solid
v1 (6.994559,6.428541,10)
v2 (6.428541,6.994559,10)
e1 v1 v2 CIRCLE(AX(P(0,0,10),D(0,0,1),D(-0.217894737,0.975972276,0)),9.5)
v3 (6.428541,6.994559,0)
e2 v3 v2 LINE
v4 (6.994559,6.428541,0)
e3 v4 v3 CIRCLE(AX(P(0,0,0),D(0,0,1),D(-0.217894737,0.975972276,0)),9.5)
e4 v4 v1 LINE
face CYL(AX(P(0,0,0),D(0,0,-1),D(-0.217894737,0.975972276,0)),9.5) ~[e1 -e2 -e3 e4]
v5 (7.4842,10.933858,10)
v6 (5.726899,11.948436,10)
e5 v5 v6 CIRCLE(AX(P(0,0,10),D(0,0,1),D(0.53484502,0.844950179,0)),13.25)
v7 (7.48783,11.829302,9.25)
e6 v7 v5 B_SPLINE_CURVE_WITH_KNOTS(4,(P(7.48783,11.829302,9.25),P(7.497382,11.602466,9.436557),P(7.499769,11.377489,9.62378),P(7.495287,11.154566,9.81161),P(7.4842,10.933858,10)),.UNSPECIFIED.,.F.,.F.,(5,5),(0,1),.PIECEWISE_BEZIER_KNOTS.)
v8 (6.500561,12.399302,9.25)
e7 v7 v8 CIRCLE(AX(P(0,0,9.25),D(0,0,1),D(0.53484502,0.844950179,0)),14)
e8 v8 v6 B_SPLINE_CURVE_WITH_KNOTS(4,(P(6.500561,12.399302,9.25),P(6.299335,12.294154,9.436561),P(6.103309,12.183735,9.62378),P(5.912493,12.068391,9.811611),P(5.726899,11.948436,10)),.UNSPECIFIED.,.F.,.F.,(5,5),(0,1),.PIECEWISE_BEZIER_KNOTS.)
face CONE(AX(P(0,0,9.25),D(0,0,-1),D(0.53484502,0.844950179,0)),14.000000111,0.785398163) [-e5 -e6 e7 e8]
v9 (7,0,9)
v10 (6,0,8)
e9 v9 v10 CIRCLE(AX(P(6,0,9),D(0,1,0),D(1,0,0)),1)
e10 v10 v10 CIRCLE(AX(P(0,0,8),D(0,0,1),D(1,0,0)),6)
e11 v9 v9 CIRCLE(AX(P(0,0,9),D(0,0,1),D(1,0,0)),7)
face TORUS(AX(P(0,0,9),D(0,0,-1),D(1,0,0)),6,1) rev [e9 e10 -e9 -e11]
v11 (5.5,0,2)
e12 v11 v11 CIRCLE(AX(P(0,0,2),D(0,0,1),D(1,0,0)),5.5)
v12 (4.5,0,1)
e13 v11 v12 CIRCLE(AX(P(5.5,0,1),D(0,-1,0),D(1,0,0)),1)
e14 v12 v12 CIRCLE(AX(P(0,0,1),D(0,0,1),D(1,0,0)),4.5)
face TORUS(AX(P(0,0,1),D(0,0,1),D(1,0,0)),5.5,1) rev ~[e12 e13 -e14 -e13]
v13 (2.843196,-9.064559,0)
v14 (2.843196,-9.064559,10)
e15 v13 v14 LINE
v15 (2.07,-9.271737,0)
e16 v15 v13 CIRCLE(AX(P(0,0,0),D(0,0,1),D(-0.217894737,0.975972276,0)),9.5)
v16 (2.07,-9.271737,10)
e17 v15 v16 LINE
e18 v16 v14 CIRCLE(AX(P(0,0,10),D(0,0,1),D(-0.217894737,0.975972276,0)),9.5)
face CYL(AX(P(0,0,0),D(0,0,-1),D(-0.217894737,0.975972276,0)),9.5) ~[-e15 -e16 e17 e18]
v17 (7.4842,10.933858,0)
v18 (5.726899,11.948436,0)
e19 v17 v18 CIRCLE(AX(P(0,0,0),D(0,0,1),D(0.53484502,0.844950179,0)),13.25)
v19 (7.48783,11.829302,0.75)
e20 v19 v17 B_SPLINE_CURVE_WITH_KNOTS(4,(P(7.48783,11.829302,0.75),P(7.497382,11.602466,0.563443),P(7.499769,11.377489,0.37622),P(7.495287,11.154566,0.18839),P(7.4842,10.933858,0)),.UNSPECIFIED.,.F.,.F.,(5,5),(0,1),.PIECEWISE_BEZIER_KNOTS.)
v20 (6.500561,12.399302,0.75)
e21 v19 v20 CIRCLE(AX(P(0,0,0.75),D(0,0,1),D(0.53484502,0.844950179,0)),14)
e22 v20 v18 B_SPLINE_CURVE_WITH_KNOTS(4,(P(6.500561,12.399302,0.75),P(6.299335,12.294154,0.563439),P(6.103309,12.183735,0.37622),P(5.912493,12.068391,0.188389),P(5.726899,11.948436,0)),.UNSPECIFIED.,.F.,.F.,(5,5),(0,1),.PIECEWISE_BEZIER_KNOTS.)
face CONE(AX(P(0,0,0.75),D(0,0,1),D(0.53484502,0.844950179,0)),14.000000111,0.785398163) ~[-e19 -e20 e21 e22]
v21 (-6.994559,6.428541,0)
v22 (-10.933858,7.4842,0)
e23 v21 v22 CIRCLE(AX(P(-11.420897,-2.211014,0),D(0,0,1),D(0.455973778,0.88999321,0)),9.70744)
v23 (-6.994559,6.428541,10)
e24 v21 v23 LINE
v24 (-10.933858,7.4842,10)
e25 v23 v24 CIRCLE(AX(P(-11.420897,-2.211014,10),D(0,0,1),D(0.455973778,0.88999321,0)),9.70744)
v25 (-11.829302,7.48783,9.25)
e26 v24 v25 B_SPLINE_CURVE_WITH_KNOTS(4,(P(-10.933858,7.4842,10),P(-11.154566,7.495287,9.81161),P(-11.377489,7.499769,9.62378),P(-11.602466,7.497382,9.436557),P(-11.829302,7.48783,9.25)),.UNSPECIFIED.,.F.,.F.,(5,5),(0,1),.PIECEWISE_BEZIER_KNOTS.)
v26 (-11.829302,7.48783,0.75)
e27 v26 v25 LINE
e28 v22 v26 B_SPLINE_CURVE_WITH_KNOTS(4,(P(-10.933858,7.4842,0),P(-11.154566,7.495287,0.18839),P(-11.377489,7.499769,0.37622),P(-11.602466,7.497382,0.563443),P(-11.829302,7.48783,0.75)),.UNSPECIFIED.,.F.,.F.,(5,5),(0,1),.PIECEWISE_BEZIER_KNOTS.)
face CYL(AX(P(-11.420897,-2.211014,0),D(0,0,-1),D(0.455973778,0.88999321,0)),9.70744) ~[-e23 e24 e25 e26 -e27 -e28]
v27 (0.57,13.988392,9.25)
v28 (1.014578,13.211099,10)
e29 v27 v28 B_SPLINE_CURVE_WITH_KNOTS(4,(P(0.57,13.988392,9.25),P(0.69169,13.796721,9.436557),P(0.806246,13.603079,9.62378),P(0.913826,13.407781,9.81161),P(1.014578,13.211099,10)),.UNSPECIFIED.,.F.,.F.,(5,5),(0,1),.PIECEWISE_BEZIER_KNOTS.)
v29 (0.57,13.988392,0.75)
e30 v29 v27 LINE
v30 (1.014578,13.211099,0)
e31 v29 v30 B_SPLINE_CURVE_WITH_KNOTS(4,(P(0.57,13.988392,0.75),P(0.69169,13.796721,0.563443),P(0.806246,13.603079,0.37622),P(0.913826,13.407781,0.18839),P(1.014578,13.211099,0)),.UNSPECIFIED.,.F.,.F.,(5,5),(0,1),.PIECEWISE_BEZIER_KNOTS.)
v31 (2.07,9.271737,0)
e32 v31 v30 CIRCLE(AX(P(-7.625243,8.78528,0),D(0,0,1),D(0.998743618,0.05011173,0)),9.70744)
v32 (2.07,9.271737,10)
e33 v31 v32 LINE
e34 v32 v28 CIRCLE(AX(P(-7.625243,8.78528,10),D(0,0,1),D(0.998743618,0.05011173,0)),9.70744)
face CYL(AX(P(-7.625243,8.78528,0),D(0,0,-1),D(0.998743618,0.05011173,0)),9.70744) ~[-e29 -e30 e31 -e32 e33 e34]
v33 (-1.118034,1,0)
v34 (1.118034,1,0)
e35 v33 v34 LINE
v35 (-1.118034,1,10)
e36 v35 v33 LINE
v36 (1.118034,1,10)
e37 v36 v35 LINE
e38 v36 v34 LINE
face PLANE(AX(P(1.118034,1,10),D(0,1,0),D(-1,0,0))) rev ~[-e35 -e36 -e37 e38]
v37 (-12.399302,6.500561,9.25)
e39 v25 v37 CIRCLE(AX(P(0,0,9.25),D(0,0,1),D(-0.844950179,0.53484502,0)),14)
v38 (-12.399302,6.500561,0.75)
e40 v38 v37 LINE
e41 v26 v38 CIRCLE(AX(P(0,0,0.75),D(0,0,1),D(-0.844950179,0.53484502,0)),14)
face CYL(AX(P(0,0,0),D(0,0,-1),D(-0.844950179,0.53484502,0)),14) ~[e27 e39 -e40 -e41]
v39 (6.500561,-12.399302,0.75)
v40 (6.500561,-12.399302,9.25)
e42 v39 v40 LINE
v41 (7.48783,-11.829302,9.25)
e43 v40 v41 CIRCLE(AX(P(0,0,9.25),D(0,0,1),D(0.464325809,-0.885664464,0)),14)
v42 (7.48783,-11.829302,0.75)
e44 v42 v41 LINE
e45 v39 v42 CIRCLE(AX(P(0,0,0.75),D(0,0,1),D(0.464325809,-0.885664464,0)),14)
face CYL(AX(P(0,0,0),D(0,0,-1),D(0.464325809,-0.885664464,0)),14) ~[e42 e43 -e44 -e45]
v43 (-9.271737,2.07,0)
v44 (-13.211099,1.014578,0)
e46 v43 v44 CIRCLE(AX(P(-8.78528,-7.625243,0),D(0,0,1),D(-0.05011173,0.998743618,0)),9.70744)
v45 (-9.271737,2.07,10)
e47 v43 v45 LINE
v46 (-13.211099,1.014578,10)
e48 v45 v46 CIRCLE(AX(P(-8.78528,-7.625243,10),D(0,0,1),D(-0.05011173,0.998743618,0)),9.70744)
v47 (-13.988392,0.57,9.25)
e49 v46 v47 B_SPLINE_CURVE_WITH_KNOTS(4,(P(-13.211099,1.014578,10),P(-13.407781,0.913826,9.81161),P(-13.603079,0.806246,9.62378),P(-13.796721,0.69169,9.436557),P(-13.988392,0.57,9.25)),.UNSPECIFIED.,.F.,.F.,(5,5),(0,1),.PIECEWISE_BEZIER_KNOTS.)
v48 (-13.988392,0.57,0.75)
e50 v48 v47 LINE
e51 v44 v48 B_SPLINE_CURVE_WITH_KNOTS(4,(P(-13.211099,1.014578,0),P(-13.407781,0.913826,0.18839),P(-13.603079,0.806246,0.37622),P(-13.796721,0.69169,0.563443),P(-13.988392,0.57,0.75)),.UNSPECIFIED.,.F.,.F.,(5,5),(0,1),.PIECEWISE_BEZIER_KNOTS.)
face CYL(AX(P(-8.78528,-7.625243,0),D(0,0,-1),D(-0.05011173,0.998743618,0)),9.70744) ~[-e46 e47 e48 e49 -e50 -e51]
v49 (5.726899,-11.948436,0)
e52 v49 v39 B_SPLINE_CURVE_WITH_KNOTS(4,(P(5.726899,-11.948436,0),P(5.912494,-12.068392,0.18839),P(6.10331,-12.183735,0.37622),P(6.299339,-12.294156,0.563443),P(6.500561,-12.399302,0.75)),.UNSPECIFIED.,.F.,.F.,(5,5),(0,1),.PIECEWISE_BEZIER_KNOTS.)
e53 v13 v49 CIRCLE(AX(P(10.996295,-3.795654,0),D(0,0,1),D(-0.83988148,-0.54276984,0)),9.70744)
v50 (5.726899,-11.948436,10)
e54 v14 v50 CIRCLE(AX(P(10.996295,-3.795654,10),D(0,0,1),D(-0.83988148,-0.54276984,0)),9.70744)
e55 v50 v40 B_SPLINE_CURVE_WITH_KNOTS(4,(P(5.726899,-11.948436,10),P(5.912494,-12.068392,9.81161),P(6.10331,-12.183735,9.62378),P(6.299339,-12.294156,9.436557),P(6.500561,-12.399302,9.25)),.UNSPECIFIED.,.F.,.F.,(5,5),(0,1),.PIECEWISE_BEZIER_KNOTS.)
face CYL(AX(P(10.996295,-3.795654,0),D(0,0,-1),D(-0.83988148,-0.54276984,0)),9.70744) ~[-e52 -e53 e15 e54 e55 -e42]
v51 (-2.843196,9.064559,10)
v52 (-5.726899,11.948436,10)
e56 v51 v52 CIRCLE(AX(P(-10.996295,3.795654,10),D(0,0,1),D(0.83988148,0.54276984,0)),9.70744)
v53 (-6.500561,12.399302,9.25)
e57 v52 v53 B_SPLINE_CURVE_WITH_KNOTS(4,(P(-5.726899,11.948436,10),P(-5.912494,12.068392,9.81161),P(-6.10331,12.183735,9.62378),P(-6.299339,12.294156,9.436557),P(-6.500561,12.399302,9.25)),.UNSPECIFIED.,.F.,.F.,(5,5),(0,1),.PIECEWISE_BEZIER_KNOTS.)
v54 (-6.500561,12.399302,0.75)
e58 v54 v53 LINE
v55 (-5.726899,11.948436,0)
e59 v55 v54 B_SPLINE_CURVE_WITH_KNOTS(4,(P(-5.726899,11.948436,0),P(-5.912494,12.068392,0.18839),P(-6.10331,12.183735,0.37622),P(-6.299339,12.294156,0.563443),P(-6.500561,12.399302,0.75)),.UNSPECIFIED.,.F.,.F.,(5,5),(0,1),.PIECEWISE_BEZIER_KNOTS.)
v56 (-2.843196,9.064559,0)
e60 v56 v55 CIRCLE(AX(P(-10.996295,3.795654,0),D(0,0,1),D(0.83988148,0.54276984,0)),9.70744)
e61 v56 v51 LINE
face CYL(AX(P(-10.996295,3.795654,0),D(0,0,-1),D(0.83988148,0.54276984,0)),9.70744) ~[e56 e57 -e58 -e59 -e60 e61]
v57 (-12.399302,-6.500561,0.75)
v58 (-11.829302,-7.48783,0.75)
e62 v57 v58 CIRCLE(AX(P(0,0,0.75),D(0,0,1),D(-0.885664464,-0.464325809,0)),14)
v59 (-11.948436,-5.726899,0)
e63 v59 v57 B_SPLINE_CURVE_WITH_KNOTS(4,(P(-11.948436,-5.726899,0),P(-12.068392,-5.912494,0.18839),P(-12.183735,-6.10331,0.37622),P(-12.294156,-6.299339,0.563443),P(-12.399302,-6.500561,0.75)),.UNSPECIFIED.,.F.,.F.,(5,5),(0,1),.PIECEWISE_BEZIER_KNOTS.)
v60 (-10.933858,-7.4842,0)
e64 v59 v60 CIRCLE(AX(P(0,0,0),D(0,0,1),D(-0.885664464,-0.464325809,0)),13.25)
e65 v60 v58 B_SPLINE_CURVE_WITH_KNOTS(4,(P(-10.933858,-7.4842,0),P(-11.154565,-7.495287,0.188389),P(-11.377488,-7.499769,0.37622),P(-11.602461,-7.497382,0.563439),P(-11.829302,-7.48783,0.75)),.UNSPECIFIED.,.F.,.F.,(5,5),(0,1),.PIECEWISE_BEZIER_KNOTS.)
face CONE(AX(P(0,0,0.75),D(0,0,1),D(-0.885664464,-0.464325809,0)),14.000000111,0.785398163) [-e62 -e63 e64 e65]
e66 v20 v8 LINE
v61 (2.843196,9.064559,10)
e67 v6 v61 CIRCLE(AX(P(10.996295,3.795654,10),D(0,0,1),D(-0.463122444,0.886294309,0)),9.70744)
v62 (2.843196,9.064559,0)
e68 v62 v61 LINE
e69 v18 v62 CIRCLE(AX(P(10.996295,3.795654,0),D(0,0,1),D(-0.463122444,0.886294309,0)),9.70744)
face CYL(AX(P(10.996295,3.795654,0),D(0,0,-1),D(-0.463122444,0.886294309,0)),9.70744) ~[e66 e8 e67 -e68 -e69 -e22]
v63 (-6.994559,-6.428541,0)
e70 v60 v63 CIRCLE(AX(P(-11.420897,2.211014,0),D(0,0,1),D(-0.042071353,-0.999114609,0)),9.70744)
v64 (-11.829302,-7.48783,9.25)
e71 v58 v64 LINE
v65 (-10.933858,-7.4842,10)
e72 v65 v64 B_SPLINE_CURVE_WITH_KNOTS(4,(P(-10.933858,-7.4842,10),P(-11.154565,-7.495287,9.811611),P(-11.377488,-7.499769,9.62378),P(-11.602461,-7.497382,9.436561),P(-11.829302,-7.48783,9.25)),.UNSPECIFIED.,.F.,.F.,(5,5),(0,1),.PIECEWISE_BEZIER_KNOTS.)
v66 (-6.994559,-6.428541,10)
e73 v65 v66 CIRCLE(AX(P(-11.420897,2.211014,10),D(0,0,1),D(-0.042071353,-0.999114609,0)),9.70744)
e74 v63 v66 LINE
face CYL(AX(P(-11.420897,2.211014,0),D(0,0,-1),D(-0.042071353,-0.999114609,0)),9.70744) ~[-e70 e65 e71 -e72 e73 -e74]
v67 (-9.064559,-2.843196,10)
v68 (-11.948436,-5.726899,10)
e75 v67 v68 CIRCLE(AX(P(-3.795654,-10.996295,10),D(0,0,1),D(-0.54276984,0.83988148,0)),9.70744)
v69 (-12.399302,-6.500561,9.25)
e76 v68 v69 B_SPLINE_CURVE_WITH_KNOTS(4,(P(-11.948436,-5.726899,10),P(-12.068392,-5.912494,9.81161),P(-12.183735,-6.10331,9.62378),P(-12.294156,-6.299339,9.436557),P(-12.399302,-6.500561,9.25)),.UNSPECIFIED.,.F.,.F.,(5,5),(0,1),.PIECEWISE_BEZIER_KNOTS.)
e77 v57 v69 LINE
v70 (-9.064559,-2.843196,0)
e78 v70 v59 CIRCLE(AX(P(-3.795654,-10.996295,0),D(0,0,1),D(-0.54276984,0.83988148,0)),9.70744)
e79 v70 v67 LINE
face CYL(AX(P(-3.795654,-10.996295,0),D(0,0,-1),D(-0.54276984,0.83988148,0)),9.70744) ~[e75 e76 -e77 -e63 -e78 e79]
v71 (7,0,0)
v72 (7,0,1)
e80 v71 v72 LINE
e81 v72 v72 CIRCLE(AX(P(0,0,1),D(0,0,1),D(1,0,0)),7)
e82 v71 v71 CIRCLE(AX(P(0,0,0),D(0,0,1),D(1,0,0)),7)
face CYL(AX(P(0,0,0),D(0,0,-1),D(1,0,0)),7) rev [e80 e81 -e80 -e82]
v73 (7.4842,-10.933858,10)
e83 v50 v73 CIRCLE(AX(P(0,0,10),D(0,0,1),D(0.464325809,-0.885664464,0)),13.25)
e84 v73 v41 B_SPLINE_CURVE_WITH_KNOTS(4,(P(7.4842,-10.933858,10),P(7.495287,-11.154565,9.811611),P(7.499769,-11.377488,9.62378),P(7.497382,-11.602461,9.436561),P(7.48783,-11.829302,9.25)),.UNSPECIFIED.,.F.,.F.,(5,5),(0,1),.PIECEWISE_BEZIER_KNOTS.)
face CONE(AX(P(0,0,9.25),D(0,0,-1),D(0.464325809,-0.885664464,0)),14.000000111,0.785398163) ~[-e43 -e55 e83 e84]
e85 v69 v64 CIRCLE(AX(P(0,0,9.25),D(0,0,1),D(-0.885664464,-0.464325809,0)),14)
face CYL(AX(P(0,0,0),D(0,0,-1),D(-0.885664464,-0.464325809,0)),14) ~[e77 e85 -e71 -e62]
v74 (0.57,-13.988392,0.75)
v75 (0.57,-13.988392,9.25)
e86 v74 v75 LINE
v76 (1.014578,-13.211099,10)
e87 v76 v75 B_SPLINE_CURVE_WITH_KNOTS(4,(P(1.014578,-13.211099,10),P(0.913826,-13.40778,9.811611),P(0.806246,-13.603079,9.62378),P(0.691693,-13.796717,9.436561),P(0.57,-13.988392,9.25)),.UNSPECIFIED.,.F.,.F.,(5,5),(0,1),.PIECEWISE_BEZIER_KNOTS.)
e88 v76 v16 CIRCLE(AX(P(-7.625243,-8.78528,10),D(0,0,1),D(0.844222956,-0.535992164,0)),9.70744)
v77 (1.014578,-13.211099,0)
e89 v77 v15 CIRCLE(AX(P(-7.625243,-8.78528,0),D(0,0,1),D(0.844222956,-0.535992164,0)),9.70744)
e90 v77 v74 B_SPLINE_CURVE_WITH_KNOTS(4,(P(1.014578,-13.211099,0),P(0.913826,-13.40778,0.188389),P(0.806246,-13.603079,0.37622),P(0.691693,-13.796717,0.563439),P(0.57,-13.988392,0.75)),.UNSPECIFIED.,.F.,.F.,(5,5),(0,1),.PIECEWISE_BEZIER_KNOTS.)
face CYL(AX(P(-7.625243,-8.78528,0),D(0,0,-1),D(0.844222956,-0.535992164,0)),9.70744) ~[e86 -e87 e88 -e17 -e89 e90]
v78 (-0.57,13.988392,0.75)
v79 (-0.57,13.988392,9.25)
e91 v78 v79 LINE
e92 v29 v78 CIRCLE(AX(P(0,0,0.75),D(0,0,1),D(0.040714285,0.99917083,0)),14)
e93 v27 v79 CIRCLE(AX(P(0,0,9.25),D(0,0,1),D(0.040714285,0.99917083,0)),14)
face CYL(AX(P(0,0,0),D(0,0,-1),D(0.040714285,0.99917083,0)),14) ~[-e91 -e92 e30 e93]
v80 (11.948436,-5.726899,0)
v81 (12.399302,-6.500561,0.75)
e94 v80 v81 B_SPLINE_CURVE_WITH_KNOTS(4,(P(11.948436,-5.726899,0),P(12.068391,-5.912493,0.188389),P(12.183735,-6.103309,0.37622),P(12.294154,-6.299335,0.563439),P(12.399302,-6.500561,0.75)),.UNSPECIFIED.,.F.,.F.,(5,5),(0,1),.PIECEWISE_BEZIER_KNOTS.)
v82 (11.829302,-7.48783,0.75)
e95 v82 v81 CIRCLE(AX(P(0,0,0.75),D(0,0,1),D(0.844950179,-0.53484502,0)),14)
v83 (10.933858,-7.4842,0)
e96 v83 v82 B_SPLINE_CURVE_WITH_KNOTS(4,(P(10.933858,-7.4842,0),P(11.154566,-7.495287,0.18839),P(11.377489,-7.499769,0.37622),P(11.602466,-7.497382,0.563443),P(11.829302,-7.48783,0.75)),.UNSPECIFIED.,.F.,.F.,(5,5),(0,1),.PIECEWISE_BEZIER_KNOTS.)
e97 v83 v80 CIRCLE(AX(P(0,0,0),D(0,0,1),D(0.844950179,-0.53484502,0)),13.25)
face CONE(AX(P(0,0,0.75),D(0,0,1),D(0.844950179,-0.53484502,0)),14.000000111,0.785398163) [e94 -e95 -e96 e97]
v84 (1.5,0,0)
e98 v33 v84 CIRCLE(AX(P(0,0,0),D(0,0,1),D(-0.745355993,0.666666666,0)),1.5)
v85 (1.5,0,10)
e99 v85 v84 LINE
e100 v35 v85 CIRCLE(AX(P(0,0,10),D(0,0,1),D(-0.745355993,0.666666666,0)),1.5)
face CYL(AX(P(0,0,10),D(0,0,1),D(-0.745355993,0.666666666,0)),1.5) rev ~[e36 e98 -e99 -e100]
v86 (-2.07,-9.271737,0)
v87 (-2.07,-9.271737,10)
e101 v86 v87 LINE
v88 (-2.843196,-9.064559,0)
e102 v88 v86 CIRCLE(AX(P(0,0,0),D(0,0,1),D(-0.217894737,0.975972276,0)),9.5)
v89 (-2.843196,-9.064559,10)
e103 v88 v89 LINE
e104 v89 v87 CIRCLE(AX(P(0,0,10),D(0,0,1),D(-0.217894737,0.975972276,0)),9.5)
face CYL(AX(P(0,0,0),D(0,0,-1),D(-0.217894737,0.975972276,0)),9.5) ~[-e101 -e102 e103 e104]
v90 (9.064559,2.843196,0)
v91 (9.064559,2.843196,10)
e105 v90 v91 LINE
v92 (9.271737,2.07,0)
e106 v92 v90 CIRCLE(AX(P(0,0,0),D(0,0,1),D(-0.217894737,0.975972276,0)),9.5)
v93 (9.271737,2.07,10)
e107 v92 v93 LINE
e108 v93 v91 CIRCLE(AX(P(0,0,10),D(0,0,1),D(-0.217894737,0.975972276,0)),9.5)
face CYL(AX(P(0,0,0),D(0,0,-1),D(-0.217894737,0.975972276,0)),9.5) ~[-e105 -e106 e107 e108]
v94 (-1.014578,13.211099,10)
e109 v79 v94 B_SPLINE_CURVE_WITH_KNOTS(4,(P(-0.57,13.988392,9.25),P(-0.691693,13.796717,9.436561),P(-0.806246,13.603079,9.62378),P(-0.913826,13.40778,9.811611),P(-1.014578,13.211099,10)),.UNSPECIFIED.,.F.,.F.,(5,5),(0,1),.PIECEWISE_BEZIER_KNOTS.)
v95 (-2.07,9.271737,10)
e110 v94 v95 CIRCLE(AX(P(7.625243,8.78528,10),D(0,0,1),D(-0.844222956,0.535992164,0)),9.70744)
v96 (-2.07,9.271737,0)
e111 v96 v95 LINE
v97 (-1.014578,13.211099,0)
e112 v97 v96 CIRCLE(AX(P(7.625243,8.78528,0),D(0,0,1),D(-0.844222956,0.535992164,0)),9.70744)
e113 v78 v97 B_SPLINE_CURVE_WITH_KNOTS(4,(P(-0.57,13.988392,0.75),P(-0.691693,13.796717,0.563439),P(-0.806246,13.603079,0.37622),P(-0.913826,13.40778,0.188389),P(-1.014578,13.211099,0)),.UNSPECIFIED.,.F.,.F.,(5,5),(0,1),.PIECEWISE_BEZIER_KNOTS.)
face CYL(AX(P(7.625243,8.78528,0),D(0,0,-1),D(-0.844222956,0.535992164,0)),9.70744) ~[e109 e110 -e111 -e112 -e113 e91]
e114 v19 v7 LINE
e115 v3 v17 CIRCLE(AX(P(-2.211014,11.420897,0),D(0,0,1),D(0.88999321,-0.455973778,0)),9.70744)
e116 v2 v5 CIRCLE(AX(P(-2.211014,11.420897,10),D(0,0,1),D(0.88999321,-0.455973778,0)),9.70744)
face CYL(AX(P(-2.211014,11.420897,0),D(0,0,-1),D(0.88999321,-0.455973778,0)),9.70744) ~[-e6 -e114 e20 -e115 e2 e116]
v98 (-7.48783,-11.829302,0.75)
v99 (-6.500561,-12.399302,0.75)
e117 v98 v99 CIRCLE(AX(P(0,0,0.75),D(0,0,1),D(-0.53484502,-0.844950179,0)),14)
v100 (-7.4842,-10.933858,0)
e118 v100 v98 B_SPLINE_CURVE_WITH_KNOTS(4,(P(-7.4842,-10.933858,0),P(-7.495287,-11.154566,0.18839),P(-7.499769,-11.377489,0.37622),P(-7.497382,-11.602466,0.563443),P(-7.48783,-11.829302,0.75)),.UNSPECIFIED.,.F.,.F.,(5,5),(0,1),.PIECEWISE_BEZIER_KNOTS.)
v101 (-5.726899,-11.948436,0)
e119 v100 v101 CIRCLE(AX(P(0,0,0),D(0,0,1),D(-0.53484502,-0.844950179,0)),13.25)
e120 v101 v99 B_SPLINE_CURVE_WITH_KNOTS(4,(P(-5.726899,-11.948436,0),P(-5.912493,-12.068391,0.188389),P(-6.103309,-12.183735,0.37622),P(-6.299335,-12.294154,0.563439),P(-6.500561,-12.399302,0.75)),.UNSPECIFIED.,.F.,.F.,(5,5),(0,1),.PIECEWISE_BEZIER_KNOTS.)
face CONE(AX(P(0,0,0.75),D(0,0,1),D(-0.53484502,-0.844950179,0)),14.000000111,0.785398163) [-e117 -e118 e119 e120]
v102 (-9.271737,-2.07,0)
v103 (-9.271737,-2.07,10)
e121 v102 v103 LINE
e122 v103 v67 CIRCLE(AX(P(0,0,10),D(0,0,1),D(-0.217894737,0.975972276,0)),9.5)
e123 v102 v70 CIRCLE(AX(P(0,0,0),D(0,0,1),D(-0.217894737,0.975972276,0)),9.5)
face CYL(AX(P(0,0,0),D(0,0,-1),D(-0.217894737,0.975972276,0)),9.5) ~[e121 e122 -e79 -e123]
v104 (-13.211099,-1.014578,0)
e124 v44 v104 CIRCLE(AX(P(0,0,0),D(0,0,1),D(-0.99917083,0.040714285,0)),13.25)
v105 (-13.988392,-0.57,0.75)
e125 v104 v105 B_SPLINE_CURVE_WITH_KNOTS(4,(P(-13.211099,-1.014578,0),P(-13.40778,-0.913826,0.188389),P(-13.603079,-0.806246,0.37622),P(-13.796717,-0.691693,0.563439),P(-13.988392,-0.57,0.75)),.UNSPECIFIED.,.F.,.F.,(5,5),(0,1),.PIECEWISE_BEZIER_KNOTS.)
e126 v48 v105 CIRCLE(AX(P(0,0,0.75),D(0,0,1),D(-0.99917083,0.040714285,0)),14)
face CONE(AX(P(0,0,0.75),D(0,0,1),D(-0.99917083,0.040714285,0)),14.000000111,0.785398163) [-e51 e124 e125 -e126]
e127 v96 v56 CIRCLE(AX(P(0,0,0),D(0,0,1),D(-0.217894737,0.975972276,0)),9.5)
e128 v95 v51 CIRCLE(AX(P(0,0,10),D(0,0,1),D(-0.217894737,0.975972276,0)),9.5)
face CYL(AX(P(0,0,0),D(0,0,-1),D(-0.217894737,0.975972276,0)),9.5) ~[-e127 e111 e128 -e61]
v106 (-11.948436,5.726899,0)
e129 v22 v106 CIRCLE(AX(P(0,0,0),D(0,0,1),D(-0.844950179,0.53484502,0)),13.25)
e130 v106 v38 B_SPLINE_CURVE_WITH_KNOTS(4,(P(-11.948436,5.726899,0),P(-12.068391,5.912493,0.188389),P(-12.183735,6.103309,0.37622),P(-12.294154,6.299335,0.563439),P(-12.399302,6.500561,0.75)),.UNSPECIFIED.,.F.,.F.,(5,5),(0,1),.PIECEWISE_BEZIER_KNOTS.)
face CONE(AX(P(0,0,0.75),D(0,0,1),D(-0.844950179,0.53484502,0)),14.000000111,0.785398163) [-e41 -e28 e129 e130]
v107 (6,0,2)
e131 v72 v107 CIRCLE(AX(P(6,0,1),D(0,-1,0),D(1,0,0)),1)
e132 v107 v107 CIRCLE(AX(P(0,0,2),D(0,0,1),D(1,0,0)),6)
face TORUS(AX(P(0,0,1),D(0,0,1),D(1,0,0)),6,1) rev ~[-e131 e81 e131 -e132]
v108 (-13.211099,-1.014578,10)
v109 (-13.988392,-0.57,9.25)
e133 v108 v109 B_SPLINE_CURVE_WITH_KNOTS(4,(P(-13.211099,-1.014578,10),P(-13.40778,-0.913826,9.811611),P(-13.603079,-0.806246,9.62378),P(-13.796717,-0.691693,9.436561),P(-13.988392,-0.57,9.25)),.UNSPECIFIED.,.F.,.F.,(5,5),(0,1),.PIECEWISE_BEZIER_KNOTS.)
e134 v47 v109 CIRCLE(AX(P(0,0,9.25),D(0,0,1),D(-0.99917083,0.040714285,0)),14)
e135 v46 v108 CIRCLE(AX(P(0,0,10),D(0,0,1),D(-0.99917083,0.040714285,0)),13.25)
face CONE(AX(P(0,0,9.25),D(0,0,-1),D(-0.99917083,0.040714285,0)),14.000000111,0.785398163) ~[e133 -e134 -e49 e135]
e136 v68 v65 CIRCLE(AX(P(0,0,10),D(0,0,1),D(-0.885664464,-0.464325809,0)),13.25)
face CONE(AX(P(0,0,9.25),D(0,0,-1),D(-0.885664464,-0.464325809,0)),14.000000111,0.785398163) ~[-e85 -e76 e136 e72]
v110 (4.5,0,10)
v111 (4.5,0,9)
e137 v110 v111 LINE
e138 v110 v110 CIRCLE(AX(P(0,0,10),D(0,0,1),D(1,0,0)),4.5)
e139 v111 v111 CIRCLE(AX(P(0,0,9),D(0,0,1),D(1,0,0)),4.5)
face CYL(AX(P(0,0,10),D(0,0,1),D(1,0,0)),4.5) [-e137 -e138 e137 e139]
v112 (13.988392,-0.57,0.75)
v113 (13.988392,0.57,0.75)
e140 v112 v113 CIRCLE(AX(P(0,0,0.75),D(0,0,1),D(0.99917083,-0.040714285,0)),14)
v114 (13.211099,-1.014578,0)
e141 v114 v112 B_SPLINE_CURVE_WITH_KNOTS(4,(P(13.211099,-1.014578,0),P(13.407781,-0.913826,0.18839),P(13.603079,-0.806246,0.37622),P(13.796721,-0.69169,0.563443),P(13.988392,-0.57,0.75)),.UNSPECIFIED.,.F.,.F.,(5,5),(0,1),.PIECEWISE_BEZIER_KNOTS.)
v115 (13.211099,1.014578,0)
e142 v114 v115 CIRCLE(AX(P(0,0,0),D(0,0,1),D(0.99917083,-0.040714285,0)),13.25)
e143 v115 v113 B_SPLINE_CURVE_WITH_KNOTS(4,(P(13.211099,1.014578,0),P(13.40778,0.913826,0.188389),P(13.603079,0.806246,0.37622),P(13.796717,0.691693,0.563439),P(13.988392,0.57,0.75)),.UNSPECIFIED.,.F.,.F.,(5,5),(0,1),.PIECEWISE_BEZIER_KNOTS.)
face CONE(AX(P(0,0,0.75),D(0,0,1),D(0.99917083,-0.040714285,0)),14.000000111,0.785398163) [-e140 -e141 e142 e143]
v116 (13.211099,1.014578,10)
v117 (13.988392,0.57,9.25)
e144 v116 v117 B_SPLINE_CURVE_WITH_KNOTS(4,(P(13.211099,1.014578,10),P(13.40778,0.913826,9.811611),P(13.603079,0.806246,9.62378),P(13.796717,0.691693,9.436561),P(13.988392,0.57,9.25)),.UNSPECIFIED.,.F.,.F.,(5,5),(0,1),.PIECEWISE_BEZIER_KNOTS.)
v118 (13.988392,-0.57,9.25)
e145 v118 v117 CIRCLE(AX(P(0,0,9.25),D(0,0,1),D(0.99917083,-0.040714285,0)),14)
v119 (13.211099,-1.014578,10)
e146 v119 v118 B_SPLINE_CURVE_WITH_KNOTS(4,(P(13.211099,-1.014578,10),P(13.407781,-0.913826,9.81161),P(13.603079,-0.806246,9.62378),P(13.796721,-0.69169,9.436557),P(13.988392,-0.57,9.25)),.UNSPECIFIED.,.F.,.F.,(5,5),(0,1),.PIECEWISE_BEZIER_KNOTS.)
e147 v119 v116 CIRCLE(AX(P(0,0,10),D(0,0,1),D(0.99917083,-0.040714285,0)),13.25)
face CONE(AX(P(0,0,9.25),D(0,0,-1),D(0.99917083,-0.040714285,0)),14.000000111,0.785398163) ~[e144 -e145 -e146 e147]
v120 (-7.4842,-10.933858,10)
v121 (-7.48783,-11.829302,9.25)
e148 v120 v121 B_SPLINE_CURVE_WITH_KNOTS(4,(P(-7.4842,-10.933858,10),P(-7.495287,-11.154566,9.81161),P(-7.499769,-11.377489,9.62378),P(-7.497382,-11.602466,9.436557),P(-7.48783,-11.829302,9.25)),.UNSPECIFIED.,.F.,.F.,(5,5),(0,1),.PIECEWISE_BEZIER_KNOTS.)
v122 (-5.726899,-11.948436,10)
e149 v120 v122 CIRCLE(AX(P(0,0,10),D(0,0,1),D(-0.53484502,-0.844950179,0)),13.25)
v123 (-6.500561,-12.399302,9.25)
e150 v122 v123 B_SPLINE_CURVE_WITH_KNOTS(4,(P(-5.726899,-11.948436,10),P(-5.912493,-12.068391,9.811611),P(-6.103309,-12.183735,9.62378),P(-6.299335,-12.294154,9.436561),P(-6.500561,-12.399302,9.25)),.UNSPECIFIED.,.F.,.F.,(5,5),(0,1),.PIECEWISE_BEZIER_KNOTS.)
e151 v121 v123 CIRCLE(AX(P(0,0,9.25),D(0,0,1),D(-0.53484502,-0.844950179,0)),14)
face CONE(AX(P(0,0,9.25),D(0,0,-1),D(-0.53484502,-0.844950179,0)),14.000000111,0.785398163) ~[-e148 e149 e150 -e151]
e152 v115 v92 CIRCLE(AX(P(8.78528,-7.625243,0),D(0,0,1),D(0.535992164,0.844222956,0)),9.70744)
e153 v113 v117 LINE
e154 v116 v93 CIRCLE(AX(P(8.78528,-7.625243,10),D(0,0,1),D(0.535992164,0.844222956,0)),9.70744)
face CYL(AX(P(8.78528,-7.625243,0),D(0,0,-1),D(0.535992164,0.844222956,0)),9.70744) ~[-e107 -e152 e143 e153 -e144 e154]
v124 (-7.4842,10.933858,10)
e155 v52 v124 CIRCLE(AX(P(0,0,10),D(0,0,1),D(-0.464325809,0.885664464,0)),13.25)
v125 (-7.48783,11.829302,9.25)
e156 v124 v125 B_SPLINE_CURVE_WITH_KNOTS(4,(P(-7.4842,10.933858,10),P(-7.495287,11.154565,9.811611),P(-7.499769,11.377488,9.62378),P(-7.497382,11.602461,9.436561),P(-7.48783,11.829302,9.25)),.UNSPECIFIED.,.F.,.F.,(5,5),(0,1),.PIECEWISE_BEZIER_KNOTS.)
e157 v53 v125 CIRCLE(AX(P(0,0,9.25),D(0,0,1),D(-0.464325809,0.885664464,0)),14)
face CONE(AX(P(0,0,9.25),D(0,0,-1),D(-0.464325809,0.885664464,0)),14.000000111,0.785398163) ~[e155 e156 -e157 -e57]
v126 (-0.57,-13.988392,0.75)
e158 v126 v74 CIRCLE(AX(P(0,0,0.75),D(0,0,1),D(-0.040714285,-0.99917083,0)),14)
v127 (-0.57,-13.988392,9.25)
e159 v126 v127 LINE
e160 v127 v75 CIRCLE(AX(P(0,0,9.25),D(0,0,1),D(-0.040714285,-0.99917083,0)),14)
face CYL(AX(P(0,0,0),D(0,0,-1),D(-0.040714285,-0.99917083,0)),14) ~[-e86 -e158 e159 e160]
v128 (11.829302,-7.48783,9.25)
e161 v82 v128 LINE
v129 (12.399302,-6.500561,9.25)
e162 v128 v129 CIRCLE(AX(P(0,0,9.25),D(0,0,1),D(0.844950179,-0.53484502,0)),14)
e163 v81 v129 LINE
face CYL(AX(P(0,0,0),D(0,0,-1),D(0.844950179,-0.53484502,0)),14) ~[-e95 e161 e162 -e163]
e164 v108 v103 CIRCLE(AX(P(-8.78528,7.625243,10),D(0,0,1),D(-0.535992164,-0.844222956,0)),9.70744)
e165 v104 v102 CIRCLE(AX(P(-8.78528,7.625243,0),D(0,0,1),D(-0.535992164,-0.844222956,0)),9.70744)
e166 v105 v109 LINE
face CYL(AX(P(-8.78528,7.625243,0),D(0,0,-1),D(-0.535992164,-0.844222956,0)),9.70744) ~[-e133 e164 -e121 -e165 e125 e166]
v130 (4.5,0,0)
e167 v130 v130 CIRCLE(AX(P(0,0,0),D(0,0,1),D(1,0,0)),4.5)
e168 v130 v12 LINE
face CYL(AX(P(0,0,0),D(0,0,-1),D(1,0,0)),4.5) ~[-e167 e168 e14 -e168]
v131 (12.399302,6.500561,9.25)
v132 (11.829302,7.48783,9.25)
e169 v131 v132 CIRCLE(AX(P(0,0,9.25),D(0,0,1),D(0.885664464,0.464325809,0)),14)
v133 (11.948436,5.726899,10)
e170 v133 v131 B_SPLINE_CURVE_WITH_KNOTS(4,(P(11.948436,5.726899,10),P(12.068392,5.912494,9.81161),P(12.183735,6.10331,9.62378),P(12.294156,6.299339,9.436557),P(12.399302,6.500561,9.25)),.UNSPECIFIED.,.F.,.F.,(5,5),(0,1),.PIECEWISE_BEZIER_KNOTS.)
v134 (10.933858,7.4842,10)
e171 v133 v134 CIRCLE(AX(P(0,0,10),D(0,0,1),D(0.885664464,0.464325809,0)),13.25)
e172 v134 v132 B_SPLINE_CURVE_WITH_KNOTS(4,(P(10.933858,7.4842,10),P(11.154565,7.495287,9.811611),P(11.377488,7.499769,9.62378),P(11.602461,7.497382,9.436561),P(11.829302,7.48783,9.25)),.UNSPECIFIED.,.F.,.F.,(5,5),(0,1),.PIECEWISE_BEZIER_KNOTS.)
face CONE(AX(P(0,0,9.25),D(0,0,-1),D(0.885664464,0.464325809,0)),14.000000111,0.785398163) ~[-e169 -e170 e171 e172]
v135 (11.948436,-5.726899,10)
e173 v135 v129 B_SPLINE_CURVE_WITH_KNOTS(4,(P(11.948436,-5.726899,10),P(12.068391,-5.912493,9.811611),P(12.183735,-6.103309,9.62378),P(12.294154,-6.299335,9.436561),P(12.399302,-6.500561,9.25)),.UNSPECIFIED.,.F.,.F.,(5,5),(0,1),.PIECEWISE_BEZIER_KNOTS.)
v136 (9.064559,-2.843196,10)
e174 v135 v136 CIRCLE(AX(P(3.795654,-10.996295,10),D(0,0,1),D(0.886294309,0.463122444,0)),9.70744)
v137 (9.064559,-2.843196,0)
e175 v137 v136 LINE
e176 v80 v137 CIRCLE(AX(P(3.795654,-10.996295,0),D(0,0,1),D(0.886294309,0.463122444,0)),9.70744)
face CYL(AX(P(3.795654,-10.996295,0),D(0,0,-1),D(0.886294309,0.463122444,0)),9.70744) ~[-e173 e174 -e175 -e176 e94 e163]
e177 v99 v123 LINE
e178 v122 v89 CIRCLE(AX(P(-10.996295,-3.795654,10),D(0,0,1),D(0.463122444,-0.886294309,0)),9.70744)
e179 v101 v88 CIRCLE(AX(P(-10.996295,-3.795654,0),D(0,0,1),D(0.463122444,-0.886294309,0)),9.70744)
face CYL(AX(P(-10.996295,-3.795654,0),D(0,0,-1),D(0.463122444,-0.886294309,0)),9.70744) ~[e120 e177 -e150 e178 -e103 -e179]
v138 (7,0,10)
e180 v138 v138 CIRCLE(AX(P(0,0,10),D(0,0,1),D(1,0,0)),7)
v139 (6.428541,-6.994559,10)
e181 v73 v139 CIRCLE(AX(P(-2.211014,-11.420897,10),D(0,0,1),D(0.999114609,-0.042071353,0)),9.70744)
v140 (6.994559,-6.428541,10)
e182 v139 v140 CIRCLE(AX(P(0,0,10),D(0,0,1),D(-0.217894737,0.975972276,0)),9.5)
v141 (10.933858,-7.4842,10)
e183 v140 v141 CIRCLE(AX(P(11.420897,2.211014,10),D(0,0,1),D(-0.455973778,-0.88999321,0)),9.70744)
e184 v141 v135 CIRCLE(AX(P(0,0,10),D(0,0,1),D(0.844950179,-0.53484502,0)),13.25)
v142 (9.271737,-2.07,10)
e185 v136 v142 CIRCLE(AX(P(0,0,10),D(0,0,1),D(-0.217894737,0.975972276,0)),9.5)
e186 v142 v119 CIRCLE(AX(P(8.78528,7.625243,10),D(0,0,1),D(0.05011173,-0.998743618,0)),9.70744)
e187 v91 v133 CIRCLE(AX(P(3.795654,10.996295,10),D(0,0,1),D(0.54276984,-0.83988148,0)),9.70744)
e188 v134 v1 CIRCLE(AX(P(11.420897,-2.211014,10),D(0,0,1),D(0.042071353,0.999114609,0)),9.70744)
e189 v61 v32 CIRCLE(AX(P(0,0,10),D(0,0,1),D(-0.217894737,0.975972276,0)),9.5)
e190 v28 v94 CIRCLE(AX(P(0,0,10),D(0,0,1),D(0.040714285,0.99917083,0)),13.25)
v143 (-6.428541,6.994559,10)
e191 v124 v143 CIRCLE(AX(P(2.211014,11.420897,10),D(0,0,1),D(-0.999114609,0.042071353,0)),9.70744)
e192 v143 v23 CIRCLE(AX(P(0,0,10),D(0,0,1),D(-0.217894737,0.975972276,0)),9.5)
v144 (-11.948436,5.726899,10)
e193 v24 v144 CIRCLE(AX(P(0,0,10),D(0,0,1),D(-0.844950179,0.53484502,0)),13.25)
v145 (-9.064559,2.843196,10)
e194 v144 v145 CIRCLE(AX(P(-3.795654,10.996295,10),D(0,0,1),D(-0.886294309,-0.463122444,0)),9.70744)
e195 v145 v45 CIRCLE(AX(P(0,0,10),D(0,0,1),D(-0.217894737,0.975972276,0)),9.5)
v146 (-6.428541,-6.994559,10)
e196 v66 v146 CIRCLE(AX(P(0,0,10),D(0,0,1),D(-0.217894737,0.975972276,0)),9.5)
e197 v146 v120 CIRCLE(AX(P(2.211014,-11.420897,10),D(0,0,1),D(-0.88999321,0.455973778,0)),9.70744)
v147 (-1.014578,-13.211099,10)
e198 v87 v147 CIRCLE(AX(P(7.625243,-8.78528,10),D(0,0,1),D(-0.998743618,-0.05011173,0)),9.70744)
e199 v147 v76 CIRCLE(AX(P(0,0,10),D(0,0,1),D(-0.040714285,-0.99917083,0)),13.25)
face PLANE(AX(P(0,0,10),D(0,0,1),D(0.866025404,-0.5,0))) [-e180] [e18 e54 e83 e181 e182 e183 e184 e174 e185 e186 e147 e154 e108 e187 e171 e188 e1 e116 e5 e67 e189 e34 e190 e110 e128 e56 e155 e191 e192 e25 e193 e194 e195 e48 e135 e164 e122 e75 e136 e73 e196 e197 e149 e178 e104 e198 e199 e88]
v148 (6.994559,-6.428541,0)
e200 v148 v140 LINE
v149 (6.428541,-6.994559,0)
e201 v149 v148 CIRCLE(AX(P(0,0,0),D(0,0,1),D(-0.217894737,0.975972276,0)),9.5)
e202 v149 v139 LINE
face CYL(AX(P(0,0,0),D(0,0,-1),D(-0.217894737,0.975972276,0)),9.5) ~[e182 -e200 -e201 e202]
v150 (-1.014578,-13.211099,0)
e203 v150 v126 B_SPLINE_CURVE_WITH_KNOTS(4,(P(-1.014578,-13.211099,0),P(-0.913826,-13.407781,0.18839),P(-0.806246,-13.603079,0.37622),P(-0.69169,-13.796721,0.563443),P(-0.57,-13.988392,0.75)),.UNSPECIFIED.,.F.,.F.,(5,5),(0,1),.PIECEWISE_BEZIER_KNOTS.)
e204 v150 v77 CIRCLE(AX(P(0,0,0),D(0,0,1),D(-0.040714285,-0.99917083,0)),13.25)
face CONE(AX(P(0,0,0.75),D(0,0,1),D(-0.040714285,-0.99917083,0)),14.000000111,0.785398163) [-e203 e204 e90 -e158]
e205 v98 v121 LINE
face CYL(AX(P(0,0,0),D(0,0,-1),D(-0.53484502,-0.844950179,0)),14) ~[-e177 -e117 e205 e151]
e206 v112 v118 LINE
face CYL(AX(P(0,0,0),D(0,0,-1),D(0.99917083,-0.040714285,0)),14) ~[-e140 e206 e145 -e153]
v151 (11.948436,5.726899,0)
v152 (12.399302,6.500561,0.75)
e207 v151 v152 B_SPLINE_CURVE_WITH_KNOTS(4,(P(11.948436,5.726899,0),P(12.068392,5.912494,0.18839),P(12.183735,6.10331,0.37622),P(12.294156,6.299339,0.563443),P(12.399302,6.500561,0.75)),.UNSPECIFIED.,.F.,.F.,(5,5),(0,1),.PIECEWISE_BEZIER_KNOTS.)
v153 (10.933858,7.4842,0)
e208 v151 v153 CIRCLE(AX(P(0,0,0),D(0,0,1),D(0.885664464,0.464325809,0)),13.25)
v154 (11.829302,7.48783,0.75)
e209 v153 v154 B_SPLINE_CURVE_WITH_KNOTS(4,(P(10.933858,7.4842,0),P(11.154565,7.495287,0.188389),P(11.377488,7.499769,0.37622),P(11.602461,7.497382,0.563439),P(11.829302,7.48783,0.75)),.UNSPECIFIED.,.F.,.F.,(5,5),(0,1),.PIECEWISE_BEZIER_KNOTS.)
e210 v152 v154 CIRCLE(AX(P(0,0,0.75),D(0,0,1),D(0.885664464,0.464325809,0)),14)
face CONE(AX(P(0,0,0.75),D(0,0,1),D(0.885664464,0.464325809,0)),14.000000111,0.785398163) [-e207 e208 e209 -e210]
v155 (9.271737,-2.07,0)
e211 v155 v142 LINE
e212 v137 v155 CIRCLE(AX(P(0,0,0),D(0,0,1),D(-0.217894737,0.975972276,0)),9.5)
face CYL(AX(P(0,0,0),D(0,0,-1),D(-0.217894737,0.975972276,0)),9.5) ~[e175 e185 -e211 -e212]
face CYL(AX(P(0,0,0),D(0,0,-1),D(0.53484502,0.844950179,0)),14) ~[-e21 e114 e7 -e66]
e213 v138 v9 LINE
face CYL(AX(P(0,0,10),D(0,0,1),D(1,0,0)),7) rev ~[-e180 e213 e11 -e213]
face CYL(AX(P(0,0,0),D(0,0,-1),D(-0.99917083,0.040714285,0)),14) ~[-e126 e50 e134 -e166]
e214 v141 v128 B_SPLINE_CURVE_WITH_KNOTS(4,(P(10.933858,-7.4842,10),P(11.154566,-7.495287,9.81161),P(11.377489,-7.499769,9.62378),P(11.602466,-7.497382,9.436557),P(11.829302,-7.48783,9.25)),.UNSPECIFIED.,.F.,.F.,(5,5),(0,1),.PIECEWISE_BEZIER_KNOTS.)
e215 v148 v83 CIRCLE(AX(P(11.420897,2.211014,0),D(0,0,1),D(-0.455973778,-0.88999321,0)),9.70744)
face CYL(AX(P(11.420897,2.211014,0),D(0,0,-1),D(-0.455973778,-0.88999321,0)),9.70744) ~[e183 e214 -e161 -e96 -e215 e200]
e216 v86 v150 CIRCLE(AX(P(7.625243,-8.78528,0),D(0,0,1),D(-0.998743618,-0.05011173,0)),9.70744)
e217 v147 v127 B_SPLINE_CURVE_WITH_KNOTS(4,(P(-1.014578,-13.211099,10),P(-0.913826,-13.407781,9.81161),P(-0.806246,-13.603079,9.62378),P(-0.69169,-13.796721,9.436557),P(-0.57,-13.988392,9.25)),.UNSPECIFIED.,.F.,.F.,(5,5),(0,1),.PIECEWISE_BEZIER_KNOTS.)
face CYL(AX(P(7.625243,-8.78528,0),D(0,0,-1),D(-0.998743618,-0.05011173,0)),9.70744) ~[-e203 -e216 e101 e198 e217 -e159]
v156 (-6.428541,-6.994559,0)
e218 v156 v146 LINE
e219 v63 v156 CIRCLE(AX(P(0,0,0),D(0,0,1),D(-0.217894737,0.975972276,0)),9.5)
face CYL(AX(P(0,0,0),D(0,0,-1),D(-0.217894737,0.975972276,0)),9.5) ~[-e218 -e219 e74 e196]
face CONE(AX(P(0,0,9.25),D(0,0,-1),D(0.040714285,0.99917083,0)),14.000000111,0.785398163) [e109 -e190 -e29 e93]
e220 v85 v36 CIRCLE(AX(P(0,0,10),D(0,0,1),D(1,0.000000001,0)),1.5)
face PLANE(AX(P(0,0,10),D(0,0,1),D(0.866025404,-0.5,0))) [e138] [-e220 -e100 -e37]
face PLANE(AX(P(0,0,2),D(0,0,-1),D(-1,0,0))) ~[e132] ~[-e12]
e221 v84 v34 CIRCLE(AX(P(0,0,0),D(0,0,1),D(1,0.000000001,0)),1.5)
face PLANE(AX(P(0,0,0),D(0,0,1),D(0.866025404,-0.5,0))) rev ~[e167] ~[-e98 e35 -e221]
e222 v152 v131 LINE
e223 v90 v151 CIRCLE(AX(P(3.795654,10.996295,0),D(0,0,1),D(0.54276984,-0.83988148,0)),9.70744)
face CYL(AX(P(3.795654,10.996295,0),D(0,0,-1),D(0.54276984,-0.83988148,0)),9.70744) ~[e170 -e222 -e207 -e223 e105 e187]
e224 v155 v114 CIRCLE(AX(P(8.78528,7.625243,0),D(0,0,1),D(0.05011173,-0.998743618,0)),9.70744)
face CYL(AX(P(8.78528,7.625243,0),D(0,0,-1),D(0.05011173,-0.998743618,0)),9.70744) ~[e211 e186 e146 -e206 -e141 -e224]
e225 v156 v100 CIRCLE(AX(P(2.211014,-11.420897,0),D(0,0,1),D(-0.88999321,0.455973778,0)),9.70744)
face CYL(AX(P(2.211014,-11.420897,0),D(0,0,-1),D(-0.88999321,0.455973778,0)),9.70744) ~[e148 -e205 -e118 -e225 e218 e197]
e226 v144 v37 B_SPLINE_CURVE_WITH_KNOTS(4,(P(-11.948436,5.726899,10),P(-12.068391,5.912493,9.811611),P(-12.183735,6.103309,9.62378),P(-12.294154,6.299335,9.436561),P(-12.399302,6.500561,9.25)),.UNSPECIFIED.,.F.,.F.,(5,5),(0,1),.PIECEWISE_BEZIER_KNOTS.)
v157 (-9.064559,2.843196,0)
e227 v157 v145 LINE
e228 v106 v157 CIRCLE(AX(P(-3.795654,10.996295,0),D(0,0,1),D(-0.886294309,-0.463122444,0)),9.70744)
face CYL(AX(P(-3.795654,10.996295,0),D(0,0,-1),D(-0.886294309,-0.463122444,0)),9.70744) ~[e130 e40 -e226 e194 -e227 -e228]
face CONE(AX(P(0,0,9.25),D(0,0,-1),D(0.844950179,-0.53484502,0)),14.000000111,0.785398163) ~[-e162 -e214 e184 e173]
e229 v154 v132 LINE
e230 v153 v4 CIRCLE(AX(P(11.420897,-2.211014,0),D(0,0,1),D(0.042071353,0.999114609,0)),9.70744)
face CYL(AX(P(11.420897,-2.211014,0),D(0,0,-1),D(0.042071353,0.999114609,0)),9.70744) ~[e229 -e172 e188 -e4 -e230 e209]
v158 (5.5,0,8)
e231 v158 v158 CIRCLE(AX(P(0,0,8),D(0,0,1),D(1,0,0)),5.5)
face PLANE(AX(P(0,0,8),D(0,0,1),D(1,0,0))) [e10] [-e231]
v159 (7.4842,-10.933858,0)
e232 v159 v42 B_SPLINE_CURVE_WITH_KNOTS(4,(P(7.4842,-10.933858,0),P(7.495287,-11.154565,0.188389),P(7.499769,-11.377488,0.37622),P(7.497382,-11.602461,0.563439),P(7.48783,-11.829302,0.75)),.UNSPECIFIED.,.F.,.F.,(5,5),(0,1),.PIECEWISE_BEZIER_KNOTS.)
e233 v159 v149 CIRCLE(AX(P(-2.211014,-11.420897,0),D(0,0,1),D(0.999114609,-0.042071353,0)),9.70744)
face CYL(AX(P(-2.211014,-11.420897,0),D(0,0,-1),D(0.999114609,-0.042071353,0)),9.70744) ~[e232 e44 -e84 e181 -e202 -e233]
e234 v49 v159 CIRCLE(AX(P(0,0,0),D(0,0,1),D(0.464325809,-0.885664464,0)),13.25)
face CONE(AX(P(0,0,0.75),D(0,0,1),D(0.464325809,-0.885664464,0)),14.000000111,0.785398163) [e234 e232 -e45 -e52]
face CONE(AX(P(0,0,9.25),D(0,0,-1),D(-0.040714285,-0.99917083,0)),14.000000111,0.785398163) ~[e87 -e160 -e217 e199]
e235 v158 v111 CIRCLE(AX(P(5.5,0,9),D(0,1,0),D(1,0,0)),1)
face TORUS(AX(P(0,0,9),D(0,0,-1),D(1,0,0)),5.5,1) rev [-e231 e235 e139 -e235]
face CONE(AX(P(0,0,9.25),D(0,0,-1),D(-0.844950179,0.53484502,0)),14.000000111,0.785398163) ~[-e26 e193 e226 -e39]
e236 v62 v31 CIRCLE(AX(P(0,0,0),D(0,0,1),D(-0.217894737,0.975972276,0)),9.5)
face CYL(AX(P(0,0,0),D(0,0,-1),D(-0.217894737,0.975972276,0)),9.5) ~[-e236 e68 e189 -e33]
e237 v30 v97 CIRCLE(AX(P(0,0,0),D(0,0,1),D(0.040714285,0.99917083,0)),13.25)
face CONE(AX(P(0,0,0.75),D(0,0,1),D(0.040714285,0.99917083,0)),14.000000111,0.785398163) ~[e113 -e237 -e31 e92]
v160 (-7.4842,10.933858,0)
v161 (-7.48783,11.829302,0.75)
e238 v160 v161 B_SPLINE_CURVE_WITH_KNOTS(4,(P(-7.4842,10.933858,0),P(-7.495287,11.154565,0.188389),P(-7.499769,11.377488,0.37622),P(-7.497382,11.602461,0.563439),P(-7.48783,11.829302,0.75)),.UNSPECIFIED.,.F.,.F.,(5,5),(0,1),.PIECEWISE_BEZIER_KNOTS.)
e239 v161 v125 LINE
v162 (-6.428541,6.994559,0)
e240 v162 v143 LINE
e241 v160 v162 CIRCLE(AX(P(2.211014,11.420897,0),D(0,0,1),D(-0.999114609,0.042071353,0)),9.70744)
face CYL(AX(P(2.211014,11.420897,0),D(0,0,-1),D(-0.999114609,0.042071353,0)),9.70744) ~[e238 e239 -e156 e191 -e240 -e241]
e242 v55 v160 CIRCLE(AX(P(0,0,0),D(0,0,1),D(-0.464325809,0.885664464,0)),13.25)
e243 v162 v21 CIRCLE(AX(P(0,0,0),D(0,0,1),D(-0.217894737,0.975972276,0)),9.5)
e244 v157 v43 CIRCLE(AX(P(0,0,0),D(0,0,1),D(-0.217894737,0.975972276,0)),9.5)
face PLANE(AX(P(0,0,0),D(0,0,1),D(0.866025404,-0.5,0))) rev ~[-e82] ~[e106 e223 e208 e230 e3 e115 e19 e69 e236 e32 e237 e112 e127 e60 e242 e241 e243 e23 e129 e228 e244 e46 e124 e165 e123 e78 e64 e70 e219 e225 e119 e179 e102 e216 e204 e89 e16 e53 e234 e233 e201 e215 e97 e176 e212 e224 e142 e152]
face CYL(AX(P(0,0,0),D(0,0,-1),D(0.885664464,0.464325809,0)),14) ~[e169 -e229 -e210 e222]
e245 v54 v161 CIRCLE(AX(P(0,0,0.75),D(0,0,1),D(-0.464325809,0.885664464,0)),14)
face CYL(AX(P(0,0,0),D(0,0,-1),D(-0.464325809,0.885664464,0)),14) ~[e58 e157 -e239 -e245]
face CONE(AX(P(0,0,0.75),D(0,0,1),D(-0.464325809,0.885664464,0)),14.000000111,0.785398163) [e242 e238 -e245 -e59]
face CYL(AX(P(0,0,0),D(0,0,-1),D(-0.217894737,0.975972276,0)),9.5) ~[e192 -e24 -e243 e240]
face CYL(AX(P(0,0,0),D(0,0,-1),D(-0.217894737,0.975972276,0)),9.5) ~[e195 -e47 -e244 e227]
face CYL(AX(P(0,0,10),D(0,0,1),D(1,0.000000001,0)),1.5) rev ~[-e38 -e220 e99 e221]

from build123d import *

# Parameters (mm, degrees)
SKETCH1_R                    = 9.5
BOSS_EXTRUDE1_DEPTH          = 10
CHAMFER1_SIZE                = 0.75
CIRPATTERN1_COUNT            = 12
CHAMFER1_OF_CIRPATTERN1_SIZE = 0.75
SKETCH2_R                    = 7
SKETCH2_R_2                  = 4.5
CUT_EXTRUDE1_DEPTH           = 2
FILLET1_R                    = 1
FILLET1_OF_MIRROR1_R         = 1
CUT_EXTRUDE2_REACH           = 24.181


with BuildPart() as part:
    # Sketch1 → Boss-Extrude1 (new body)
    with BuildSketch(Plane.XY):
        Circle(SKETCH1_R)
        with BuildLine():
            ThreePointArc((-2.07, 9.271736623), (0, 9.5), (2.07, 9.271736623))
            ThreePointArc((2.07, 9.271736623), (1.625653209, 11.72726856), (0.57, 13.988391616))
            ThreePointArc((0.57, 13.988391616), (0, 14), (-0.57, 13.988391616))
            ThreePointArc((-0.57, 13.988391616), (-1.625653209, 11.72726856), (-2.07, 9.271736623))
        make_face()
    boss_extrude1 = extrude(amount=BOSS_EXTRUDE1_DEPTH)

    # Chamfer1
    chamfer1_edges = [part.edges().sort_by_distance(p)[0] for p in [
        (0, 14, 10),
        (0, 14, 0),
    ]]
    chamfer(chamfer1_edges, length=CHAMFER1_SIZE)

    # CirPattern1: Boss-Extrude1 ×12 about axis
    cirpattern1_axis = Axis((0, 0, 0), (0, 0, 1))
    for i in range(1, CIRPATTERN1_COUNT):
        add(boss_extrude1.rotate(cirpattern1_axis, i * 360 / CIRPATTERN1_COUNT))

    # Chamfer1 of CirPattern1
    chamfer1_of_cirpattern1_edges = [part.edges().sort_by_distance(p)[0] for p in [
        (-7, 12.124355653, 10),
        (-7, 12.124355653, 0),
        (-12.124355653, 7, 10),
        (-12.124355653, 7, 0),
        (-14, 0, 10),
        (-14, 0, 0),
        (-12.124355653, -7, 10),
        (-12.124355653, -7, 0),
        (-7, -12.124355653, 10),
        (-7, -12.124355653, 0),
        (0, -14, 10),
        (0, -14, 0),
        (7, -12.124355653, 10),
        (7, -12.124355653, 0),
        (12.124355653, -7, 10),
        (12.124355653, -7, 0),
        (14, 0, 10),
        (14, 0, 0),
        (12.124355653, 7, 10),
        (12.124355653, 7, 0),
        (7, 12.124355653, 10),
        (7, 12.124355653, 0),
    ]]
    chamfer(chamfer1_of_cirpattern1_edges, length=CHAMFER1_OF_CIRPATTERN1_SIZE)

    # Sketch2 → Cut-Extrude1 (cut)
    with BuildSketch(Plane.XY.offset(10)):
        Circle(SKETCH2_R)
        Circle(SKETCH2_R_2, mode=Mode.SUBTRACT)
    cut_extrude1 = extrude(amount=-CUT_EXTRUDE1_DEPTH, mode=Mode.SUBTRACT)

    # Fillet1
    fillet1_edges = [part.edges().sort_by_distance(p)[0] for p in [
        (-7, 0, 8),
        (-4.5, 0, 8),
    ]]
    fillet(fillet1_edges, radius=FILLET1_R)

    # Mirror1: Cut-Extrude1 across plane
    add(cut_extrude1.mirror(Plane.XY.offset(5)), mode=Mode.SUBTRACT)

    # Fillet1 of Mirror1
    fillet1_of_mirror1_edges = [part.edges().sort_by_distance(p)[0] for p in [
        (-7, 0, 2),
        (-4.5, 0, 2),
    ]]
    fillet(fillet1_of_mirror1_edges, radius=FILLET1_OF_MIRROR1_R)

    # Sketch3 → Cut-Extrude2 (cut, up to next)
    with BuildSketch(Plane.XY.offset(10), mode=Mode.PRIVATE) as cut_extrude2_sk1:
        with BuildLine():
            Line((1.118033989, 1), (-1.118033989, 1))
            ThreePointArc((-1.118033989, 1), (-0.535233135, -1.401258538), (1.5, 0))
            ThreePointArc((1.5, 0), (1.401258538, 0.535233135), (1.118033989, 1))
        make_face()
    cut_extrude2_tool1 = extrude(cut_extrude2_sk1.sketch, amount=-CUT_EXTRUDE2_REACH, mode=Mode.PRIVATE) & part.part
    add(cut_extrude2_tool1.solids().sort_by_distance((0, -0.148024, 10))[0], mode=Mode.SUBTRACT)


solid = part.part
